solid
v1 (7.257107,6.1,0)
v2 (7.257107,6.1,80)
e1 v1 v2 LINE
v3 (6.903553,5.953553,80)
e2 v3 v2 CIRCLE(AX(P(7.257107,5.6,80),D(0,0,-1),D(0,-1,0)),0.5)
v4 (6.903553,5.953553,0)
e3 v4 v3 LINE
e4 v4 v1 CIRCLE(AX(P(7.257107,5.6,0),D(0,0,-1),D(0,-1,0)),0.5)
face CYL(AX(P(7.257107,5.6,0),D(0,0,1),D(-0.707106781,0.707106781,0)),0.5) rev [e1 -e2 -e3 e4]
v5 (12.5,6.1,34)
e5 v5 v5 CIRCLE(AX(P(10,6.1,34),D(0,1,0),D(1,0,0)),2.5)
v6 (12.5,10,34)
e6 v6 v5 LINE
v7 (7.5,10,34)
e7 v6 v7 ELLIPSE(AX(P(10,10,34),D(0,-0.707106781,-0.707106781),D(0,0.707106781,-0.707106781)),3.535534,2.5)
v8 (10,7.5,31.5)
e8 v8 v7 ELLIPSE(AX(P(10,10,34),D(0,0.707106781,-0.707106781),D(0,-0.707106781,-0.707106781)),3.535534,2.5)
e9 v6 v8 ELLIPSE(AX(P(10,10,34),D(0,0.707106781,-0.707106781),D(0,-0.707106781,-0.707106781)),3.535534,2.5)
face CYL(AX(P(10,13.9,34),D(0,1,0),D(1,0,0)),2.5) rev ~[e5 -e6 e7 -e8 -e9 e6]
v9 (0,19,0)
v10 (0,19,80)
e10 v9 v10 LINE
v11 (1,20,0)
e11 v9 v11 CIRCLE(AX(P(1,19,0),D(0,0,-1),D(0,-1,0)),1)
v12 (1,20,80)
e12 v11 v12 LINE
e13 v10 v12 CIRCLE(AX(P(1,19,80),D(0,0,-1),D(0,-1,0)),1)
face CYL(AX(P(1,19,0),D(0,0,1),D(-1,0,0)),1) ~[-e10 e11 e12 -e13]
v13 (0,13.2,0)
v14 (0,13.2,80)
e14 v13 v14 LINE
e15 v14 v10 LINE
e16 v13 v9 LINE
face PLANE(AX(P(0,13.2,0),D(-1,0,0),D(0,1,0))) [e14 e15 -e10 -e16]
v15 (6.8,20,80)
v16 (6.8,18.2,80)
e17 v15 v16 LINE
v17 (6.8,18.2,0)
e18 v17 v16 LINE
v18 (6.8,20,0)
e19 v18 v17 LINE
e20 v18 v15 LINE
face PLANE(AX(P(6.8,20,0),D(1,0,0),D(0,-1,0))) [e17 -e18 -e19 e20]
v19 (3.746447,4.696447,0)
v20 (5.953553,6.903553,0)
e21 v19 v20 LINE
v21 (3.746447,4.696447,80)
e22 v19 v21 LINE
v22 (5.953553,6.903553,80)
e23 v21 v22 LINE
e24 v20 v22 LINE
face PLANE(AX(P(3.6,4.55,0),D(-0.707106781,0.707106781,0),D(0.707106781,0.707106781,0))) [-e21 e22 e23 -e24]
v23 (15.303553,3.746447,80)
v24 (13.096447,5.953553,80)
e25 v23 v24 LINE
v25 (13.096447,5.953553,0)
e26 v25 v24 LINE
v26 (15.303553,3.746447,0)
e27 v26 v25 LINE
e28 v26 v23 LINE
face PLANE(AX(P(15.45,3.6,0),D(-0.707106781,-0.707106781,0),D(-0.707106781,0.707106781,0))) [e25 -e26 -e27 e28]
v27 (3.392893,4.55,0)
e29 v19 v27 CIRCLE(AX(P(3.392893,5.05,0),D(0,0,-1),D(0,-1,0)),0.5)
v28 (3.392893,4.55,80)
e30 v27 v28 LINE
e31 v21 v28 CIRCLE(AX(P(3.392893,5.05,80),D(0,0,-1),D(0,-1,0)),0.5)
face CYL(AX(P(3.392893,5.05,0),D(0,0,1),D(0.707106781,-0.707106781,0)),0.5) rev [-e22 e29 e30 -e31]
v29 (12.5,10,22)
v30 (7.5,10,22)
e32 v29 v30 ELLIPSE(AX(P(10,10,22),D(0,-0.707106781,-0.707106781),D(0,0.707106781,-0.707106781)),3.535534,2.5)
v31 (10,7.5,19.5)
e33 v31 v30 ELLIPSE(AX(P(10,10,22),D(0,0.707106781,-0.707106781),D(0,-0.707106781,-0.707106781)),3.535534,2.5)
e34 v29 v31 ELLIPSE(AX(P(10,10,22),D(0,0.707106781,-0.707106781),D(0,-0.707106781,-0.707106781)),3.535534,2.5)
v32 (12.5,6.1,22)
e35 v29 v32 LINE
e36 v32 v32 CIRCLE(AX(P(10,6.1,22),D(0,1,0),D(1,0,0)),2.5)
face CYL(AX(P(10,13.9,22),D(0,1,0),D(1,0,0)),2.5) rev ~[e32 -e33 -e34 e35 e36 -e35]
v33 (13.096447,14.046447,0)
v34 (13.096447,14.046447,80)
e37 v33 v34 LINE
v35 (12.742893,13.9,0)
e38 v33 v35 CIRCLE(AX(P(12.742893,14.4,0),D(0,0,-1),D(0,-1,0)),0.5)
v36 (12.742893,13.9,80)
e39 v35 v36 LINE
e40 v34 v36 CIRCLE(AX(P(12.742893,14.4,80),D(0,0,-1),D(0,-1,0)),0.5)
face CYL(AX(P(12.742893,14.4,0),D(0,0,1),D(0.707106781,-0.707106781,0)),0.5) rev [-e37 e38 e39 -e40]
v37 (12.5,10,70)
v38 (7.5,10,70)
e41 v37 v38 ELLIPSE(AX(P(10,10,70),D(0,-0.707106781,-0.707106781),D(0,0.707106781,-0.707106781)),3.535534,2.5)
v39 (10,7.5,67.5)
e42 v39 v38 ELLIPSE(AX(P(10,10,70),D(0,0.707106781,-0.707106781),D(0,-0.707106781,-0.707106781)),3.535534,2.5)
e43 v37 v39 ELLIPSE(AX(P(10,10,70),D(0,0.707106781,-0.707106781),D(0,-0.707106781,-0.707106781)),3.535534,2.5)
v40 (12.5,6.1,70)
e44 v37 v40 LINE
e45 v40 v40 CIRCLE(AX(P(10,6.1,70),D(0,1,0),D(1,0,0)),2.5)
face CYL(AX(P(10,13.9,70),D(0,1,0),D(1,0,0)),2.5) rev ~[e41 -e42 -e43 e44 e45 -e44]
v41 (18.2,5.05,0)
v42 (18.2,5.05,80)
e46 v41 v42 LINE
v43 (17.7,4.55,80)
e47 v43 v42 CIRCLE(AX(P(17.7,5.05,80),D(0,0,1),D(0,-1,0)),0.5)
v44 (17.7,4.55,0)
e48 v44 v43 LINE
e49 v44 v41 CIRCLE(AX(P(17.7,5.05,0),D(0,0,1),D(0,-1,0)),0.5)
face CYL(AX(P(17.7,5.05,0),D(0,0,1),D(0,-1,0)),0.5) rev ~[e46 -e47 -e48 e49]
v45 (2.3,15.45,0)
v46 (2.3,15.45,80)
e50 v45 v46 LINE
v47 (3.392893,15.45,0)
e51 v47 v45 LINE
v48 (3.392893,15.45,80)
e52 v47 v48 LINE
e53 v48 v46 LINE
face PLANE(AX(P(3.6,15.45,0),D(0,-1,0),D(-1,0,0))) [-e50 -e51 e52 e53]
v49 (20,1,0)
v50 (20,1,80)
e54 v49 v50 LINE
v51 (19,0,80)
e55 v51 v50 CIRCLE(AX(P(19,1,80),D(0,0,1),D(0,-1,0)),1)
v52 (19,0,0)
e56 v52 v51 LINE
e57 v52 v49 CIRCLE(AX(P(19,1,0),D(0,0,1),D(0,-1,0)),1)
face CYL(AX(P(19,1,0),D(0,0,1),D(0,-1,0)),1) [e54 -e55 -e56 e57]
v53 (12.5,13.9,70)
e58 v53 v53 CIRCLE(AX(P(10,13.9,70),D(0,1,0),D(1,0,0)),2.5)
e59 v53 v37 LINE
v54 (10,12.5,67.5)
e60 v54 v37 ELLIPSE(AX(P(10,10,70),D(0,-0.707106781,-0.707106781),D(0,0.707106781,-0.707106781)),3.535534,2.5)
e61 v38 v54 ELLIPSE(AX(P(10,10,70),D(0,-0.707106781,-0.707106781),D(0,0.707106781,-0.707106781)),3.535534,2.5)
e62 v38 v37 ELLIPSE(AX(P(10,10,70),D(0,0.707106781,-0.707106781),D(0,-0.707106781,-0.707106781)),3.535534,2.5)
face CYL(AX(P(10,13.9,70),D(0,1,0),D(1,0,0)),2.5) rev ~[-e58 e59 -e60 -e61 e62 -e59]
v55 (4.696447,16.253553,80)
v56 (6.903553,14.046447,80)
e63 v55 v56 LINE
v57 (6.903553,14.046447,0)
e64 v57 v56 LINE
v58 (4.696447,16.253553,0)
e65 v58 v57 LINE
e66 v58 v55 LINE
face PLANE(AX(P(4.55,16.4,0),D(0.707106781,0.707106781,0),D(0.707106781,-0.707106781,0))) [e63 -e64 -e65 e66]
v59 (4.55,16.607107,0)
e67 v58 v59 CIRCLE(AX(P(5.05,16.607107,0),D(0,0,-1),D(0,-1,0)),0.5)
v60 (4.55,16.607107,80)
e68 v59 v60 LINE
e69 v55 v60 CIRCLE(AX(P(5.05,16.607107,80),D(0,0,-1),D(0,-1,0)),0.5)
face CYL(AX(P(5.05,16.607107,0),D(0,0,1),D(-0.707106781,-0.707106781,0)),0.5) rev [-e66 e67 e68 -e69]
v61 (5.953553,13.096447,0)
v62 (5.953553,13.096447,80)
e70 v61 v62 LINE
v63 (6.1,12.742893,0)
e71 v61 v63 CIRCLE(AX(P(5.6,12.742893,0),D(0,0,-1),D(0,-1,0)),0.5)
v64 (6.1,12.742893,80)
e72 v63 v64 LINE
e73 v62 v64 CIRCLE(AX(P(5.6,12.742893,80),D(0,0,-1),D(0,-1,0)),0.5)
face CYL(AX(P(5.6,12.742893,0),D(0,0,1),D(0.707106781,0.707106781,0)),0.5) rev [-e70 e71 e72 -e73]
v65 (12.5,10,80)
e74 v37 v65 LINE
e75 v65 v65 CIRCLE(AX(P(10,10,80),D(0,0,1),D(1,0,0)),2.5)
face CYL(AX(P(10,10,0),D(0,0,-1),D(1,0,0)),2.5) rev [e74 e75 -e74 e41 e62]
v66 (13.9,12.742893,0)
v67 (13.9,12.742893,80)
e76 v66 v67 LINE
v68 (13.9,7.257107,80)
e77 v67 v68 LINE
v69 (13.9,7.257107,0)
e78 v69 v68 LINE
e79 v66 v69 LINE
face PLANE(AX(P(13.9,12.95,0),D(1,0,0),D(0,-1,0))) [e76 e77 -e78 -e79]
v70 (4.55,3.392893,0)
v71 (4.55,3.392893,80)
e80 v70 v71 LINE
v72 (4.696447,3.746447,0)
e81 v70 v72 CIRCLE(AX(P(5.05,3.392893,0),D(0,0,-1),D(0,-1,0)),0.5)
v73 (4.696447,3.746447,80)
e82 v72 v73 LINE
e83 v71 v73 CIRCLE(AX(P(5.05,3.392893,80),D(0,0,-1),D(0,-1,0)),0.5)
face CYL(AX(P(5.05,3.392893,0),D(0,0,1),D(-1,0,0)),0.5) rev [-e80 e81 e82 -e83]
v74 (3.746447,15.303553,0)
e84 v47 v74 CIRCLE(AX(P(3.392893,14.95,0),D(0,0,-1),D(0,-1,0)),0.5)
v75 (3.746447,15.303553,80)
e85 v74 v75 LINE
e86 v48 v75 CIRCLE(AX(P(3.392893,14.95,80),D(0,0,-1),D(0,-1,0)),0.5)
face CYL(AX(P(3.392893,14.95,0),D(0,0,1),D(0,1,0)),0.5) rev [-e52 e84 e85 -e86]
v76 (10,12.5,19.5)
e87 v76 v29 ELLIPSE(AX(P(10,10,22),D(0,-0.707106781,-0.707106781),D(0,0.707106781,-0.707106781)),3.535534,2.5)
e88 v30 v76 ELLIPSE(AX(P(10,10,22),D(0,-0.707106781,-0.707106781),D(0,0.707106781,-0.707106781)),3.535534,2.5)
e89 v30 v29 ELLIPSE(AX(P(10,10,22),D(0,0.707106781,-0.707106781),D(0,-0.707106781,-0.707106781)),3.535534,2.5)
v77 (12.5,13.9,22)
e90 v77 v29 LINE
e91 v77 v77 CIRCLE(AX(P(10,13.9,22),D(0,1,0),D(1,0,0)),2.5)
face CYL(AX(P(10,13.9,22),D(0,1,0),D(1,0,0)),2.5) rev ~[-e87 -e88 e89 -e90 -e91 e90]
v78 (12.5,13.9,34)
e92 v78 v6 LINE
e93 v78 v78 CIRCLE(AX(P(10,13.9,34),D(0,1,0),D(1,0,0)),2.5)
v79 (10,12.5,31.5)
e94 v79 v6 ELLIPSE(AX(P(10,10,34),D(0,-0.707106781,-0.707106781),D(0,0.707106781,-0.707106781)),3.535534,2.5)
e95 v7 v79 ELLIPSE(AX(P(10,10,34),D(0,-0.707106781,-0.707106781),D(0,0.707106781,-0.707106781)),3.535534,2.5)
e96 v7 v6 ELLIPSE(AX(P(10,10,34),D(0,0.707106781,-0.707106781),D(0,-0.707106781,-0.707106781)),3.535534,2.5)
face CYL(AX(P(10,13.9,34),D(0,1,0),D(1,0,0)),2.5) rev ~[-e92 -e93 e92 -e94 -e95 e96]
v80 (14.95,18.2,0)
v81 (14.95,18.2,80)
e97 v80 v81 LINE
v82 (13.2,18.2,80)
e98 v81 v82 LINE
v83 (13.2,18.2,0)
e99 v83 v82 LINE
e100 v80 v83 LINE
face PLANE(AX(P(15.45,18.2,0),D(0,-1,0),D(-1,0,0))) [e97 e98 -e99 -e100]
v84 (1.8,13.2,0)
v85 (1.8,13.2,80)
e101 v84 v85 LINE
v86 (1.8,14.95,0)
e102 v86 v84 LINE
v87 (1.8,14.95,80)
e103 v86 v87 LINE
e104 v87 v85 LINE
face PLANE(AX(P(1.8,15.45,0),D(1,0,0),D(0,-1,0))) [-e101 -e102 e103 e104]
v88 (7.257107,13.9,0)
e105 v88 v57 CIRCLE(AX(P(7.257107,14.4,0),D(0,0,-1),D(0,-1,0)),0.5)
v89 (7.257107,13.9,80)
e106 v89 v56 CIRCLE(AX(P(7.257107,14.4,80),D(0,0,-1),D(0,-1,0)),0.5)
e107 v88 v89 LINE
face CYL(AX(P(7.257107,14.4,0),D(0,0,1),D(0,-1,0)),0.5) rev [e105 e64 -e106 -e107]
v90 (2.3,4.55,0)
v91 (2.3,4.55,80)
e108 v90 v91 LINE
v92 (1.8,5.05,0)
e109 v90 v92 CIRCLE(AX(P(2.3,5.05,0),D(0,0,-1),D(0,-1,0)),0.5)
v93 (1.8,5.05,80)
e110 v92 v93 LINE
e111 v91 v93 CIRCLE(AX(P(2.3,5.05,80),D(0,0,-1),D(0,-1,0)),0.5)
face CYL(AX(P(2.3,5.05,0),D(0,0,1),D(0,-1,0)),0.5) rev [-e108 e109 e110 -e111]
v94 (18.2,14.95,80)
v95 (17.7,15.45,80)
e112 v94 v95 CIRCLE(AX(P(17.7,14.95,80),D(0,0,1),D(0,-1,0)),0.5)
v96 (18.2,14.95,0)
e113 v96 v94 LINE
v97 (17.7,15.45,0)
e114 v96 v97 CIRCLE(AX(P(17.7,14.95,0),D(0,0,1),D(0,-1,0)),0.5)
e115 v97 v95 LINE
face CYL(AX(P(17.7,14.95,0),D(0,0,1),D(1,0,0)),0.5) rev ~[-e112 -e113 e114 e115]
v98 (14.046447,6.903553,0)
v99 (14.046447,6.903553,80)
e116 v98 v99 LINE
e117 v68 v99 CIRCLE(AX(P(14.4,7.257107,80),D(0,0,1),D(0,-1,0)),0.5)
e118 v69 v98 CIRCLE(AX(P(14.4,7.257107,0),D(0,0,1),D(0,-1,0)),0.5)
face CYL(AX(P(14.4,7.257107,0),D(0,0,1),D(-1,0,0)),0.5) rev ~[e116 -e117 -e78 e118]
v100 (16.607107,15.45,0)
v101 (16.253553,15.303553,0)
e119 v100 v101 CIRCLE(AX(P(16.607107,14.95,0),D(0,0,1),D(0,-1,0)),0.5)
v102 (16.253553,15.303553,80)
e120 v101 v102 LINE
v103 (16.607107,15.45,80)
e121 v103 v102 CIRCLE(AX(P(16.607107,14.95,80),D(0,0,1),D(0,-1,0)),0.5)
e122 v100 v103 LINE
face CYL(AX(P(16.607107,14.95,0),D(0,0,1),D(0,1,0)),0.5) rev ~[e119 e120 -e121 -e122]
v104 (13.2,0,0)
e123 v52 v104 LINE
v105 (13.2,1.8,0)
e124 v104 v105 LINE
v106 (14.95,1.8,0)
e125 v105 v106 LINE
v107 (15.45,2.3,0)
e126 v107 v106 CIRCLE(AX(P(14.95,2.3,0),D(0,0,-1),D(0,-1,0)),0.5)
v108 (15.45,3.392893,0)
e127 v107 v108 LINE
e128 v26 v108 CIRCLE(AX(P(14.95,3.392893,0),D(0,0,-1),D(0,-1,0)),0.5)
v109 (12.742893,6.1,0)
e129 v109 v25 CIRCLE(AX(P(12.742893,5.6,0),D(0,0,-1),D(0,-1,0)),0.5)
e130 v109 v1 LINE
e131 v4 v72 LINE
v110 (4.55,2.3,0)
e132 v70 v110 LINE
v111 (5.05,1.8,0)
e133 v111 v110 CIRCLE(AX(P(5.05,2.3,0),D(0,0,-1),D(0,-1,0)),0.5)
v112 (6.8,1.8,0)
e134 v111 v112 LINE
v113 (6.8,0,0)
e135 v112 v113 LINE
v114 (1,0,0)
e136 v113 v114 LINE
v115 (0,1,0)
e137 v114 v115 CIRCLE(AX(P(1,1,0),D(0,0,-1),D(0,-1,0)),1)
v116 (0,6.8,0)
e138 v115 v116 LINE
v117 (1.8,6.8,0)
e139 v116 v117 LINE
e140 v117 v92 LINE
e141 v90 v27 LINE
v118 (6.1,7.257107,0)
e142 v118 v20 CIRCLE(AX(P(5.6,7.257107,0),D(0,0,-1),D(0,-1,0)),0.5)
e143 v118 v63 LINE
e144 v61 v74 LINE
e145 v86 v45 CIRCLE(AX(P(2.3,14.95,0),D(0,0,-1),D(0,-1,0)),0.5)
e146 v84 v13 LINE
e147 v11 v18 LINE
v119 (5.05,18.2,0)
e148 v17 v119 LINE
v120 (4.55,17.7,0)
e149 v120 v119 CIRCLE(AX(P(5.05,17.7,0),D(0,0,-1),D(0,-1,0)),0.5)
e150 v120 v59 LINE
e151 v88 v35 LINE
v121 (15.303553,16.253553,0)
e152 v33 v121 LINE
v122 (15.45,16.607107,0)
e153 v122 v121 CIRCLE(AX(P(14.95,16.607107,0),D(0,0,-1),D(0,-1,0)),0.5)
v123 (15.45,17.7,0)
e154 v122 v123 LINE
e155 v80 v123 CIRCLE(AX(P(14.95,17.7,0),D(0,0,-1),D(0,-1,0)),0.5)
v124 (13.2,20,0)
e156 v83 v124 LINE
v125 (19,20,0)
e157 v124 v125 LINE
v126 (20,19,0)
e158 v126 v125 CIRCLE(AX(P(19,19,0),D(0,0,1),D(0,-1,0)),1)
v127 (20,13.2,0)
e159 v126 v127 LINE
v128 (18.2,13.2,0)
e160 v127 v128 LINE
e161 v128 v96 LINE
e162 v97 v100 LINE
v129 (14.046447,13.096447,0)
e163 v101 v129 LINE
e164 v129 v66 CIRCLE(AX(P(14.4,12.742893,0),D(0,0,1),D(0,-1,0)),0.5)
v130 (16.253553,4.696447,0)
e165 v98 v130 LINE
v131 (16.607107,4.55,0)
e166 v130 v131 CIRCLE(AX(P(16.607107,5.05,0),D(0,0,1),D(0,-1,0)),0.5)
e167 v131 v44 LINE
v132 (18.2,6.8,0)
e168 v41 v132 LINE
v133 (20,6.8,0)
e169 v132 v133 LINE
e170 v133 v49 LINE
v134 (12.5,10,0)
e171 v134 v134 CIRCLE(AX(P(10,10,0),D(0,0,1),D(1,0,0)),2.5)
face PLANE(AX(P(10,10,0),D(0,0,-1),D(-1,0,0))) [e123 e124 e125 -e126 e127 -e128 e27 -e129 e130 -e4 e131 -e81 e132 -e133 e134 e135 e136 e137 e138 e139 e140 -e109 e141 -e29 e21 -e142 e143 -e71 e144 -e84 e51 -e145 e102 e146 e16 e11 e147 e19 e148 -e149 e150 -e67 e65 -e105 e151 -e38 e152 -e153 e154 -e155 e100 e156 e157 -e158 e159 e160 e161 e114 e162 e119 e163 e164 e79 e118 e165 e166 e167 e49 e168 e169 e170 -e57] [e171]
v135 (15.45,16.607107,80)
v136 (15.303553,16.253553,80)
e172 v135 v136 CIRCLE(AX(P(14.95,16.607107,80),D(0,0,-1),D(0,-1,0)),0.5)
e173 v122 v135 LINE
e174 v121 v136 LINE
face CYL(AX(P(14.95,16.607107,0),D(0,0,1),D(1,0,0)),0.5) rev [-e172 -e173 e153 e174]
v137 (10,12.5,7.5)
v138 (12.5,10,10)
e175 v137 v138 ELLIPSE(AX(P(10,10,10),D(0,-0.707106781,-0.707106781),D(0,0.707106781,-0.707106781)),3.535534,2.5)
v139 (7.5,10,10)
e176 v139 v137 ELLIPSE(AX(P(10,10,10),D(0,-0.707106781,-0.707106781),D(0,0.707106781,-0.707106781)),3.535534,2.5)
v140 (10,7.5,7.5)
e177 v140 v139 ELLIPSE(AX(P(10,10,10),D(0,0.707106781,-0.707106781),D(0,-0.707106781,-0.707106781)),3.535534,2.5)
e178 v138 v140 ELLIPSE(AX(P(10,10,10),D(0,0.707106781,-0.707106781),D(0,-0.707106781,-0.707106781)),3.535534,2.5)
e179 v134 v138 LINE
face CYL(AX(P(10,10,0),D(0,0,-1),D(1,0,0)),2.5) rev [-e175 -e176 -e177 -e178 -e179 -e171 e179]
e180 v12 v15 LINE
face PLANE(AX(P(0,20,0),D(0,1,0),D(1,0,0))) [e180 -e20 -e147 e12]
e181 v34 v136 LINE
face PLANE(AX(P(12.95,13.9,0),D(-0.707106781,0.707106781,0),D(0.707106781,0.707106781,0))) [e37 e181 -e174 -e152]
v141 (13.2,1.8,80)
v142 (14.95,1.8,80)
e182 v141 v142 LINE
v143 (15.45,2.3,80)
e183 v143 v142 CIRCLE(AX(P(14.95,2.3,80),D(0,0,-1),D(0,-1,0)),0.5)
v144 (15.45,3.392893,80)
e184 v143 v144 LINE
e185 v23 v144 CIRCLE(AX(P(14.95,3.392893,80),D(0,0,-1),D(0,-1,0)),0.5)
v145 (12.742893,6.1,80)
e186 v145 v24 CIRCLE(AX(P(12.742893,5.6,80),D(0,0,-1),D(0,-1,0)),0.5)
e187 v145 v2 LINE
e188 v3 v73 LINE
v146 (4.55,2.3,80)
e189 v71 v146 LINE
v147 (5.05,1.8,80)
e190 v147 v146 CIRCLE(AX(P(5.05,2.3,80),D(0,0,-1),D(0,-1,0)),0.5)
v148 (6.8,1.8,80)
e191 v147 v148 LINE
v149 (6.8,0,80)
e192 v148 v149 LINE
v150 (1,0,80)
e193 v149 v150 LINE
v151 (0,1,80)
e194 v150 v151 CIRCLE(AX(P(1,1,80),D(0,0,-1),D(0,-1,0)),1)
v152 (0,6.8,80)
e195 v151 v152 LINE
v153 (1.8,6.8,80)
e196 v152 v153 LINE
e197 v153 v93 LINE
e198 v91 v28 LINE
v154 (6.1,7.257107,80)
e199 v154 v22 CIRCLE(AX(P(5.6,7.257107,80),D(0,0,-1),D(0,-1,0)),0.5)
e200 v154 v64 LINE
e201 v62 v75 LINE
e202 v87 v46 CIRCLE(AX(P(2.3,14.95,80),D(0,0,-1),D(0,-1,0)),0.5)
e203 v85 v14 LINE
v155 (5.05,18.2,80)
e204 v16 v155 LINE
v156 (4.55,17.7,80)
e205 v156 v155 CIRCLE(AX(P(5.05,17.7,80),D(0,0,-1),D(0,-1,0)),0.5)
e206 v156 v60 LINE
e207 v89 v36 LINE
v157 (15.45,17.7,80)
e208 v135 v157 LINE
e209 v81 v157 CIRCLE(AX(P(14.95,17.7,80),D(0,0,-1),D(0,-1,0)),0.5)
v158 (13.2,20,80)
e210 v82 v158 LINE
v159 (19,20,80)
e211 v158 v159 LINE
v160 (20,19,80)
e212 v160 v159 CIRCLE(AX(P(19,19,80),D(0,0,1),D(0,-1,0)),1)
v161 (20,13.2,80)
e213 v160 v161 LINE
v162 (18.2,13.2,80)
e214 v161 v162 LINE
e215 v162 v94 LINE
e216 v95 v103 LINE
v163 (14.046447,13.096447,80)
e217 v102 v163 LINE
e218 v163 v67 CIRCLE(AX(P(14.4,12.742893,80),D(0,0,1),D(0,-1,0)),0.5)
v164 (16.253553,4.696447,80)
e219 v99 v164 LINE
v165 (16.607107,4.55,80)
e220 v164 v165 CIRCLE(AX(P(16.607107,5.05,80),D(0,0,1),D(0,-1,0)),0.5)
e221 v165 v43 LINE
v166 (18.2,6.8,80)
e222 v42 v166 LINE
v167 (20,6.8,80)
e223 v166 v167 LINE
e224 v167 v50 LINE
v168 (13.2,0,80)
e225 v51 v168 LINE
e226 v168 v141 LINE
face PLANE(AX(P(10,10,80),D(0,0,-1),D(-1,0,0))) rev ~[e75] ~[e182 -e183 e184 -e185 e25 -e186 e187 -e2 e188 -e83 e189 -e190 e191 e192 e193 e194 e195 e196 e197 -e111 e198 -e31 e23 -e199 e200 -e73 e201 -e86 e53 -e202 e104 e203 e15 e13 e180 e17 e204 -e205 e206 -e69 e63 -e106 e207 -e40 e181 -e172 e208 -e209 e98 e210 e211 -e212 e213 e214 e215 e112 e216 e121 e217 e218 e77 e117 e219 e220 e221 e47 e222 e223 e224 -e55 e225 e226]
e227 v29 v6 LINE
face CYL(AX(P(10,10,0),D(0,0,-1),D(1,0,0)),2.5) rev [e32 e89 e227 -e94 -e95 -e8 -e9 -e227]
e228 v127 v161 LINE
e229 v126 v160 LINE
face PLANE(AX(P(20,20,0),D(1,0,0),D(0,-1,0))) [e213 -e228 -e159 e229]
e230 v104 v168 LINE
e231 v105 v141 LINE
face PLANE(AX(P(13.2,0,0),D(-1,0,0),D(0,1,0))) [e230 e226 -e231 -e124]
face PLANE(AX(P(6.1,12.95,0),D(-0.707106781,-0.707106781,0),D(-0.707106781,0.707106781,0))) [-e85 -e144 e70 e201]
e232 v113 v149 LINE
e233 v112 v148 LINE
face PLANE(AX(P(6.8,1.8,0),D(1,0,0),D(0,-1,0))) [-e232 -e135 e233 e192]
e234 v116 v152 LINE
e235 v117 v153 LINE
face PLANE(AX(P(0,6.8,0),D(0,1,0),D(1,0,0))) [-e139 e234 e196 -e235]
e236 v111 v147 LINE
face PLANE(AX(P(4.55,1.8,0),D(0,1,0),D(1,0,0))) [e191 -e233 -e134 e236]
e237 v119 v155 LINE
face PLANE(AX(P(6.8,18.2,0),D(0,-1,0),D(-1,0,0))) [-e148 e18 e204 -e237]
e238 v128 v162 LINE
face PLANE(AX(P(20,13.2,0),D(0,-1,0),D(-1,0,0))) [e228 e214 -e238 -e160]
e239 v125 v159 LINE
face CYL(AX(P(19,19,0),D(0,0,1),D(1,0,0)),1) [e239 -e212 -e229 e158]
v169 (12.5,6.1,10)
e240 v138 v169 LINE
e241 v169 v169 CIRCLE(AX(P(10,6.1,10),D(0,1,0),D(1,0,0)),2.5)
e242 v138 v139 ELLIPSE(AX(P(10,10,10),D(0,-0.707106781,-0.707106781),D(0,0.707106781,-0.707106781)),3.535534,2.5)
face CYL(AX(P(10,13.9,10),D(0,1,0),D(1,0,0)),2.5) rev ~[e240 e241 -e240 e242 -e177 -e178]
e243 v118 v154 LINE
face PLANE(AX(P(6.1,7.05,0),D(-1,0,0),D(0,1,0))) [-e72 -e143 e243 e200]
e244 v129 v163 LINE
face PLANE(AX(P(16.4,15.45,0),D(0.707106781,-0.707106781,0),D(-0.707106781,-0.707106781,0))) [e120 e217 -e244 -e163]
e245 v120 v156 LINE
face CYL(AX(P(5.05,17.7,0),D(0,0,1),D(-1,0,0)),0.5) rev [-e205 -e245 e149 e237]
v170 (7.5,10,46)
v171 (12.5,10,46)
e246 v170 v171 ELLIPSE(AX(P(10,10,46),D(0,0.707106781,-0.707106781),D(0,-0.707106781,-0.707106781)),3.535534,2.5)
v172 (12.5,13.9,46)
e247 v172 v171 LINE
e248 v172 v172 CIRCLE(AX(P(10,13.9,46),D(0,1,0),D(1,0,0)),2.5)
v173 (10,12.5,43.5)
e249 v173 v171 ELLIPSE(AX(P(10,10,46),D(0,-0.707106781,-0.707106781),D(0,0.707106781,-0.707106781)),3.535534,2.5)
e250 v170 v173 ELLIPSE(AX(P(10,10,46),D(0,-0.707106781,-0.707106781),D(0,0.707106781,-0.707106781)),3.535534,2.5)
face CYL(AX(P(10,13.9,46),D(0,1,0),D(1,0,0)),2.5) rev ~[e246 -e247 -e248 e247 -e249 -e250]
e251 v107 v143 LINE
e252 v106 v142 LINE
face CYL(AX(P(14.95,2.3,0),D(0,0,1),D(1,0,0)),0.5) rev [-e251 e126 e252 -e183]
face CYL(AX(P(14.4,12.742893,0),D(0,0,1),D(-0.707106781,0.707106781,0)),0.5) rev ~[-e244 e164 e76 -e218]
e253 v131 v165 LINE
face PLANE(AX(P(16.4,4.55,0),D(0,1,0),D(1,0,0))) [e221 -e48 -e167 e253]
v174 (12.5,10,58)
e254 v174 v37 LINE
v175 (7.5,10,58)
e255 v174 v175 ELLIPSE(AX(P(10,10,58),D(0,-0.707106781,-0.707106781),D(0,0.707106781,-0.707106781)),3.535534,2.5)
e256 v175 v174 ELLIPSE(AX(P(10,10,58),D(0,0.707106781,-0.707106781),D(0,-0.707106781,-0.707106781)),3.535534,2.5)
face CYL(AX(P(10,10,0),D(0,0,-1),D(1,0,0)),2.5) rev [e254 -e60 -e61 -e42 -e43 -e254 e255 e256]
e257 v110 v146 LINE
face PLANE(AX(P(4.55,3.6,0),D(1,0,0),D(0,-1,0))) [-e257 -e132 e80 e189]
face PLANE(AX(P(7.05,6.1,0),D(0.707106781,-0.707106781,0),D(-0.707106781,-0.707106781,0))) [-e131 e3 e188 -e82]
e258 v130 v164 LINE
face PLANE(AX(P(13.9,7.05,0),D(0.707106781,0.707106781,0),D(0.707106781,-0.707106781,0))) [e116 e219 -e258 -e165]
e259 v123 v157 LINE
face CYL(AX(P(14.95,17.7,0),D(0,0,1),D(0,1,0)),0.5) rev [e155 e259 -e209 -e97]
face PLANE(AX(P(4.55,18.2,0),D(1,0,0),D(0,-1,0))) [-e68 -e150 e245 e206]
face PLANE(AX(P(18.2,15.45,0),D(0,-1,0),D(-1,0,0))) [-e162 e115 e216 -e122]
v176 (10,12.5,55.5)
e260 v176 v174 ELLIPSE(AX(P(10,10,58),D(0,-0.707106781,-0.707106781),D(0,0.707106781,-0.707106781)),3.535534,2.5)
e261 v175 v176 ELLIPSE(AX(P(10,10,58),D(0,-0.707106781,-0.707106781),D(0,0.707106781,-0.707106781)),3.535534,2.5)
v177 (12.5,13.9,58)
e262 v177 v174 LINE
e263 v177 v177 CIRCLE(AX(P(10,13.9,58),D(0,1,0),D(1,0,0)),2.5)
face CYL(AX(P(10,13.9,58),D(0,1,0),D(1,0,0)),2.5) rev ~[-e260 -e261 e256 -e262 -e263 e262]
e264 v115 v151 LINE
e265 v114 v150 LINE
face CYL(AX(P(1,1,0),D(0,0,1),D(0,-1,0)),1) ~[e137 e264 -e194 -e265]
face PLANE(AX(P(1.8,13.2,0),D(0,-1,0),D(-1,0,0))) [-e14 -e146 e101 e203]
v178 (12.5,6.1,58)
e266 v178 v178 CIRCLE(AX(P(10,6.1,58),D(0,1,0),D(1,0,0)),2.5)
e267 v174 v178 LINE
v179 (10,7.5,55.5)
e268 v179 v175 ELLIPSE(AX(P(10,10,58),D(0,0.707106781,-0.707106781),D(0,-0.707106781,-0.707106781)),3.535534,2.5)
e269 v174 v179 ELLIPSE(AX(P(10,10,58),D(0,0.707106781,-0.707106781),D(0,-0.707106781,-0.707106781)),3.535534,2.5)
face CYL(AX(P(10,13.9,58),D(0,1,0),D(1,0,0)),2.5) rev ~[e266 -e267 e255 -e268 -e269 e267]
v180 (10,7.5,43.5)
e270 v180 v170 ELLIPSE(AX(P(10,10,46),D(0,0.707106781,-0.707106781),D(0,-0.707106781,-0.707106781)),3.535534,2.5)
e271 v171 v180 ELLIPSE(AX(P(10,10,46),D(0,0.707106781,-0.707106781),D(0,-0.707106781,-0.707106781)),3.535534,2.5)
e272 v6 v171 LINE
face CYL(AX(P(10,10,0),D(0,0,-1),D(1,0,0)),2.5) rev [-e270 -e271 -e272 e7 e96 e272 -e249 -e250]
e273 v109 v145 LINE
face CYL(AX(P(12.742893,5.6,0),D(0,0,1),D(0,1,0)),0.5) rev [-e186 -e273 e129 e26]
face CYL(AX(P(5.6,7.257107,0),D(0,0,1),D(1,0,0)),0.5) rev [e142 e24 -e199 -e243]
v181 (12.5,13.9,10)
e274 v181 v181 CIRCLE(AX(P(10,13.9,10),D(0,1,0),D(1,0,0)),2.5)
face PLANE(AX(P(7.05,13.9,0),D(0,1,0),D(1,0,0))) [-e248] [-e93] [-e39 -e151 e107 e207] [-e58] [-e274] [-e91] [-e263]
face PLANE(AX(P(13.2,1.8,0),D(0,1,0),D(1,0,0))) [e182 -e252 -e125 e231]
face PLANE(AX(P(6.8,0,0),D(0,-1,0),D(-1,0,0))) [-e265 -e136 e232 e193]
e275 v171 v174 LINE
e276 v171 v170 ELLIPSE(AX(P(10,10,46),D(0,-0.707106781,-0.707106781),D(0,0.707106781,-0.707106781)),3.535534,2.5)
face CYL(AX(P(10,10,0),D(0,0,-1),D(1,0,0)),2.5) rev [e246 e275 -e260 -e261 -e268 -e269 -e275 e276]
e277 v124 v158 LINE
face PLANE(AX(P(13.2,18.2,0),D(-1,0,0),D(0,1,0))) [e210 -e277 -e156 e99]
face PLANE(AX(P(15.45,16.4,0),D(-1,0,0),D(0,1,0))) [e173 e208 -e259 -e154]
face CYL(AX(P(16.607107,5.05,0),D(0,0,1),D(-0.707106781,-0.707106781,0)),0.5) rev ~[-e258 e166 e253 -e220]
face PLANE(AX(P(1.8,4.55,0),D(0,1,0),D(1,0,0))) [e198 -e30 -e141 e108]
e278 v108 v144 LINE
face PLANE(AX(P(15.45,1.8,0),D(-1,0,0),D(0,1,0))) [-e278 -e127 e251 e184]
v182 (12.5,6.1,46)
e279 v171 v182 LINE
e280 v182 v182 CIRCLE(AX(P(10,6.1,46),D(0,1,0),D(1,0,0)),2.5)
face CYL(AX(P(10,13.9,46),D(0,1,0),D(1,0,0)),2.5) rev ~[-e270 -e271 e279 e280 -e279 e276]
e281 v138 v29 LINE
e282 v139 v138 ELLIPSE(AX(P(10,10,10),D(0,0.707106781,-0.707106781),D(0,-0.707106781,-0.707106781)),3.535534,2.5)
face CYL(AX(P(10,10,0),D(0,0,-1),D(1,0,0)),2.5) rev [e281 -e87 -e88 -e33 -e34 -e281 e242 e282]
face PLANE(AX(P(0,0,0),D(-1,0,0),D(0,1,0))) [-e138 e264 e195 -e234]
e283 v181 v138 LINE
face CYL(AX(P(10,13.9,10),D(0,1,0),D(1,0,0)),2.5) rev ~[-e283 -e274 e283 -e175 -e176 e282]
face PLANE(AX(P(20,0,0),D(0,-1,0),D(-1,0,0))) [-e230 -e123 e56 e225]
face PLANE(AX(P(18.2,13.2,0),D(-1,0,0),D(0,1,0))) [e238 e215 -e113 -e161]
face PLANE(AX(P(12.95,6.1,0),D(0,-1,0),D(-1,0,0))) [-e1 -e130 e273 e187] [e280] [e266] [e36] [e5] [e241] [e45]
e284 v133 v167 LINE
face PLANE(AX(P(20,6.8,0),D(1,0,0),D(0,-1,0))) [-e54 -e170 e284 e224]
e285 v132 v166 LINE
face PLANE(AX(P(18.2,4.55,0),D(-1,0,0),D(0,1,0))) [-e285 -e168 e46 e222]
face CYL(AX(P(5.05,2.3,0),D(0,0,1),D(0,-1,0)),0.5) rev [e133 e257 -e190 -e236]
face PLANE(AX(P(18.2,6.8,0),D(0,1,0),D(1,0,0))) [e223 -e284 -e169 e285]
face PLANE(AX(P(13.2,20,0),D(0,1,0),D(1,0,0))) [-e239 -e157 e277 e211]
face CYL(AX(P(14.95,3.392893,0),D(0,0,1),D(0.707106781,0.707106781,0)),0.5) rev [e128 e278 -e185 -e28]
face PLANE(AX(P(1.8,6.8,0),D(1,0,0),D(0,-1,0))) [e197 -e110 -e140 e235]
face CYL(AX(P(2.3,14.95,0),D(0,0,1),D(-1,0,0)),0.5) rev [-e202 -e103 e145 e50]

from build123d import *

# Parameters (mm, degrees)
SKETCH1_R           = 2.5
BOSS_EXTRUDE1_DEPTH = 80
FILLET1_R           = 1
FILLET2_R           = 0.5
FILLET3_R           = 0.5
FILLET4_R           = 0.5
FILLET5_R           = 0.5
SKETCH2_R           = 2.5
CUT_EXTRUDE1_DEPTH  = 8


with BuildPart() as part:
    # Sketch1 → Boss-Extrude1 (new body)
    with BuildSketch(Plane.XY):
        Polygon((13.2, 0), (13.2, 1.8), (15.45, 1.8), (15.45, 3.6), (12.95, 6.1), (7.05, 6.1), (4.55, 3.6), (4.55, 1.8), (6.8, 1.8), (6.8, 0), (0, 0), (0, 6.8), (1.8, 6.8), (1.8, 4.55), (3.6, 4.55), (6.1, 7.05), (6.1, 12.95), (3.6, 15.45), (1.8, 15.45), (1.8, 13.2), (0, 13.2), (0, 20), (6.8, 20), (6.8, 18.2), (4.55, 18.2), (4.55, 16.4), (7.05, 13.9), (12.95, 13.9), (15.45, 16.4), (15.45, 18.2), (13.2, 18.2), (13.2, 20), (20, 20), (20, 13.2), (18.2, 13.2), (18.2, 15.45), (16.4, 15.45), (13.9, 12.95), (13.9, 7.05), (16.4, 4.55), (18.2, 4.55), (18.2, 6.8), (20, 6.8), (20, 0), align=None)
        with Locations((10, 10)):
            Circle(SKETCH1_R, mode=Mode.SUBTRACT)
    extrude(amount=BOSS_EXTRUDE1_DEPTH)

    # Fillet1
    fillet1_edges = [part.edges().sort_by_distance(p)[0] for p in [
        (0, 0, 40),
        (0, 20, 40),
        (20, 20, 40),
        (20, 0, 40),
    ]]
    fillet(fillet1_edges, radius=FILLET1_R)

    # Fillet2
    fillet2_edges = [part.edges().sort_by_distance(p)[0] for p in [
        (4.55, 18.2, 40),
        (4.55, 16.4, 40),
        (7.05, 13.9, 40),
        (12.95, 13.9, 40),
        (15.45, 16.4, 40),
        (15.45, 18.2, 40),
    ]]
    fillet(fillet2_edges, radius=FILLET2_R)

    # Fillet3
    fillet3_edges = [part.edges().sort_by_distance(p)[0] for p in [
        (18.2, 15.45, 40),
        (16.4, 15.45, 40),
        (13.9, 12.95, 40),
        (13.9, 7.05, 40),
        (16.4, 4.55, 40),
        (18.2, 4.55, 40),
    ]]
    fillet(fillet3_edges, radius=FILLET3_R)

    # Fillet4
    fillet4_edges = [part.edges().sort_by_distance(p)[0] for p in [
        (1.8, 4.55, 40),
        (3.6, 4.55, 40),
        (6.1, 7.05, 40),
        (6.1, 12.95, 40),
        (3.6, 15.45, 40),
        (1.8, 15.45, 40),
    ]]
    fillet(fillet4_edges, radius=FILLET4_R)

    # Fillet5
    fillet5_edges = [part.edges().sort_by_distance(p)[0] for p in [
        (15.45, 1.8, 40),
        (15.45, 3.6, 40),
        (12.95, 6.1, 40),
        (7.05, 6.1, 40),
        (4.55, 3.6, 40),
        (4.55, 1.8, 40),
    ]]
    fillet(fillet5_edges, radius=FILLET5_R)

    # Sketch2 → Cut-Extrude1 (cut)
    with BuildSketch(Plane(origin=(0, 13.9, 0), x_dir=(1, 0, 0), z_dir=(0, 1, 0))):
        with Locations((10, -58)):
            Circle(SKETCH2_R)
        with Locations((10, -70)):
            Circle(SKETCH2_R)
        with Locations((10, -34)):
            Circle(SKETCH2_R)
        with Locations((10, -46)):
            Circle(SKETCH2_R)
        with Locations((10, -22)):
            Circle(SKETCH2_R)
        with Locations((10, -10)):
            Circle(SKETCH2_R)
    extrude(amount=-CUT_EXTRUDE1_DEPTH, mode=Mode.SUBTRACT)


solid = part.part
